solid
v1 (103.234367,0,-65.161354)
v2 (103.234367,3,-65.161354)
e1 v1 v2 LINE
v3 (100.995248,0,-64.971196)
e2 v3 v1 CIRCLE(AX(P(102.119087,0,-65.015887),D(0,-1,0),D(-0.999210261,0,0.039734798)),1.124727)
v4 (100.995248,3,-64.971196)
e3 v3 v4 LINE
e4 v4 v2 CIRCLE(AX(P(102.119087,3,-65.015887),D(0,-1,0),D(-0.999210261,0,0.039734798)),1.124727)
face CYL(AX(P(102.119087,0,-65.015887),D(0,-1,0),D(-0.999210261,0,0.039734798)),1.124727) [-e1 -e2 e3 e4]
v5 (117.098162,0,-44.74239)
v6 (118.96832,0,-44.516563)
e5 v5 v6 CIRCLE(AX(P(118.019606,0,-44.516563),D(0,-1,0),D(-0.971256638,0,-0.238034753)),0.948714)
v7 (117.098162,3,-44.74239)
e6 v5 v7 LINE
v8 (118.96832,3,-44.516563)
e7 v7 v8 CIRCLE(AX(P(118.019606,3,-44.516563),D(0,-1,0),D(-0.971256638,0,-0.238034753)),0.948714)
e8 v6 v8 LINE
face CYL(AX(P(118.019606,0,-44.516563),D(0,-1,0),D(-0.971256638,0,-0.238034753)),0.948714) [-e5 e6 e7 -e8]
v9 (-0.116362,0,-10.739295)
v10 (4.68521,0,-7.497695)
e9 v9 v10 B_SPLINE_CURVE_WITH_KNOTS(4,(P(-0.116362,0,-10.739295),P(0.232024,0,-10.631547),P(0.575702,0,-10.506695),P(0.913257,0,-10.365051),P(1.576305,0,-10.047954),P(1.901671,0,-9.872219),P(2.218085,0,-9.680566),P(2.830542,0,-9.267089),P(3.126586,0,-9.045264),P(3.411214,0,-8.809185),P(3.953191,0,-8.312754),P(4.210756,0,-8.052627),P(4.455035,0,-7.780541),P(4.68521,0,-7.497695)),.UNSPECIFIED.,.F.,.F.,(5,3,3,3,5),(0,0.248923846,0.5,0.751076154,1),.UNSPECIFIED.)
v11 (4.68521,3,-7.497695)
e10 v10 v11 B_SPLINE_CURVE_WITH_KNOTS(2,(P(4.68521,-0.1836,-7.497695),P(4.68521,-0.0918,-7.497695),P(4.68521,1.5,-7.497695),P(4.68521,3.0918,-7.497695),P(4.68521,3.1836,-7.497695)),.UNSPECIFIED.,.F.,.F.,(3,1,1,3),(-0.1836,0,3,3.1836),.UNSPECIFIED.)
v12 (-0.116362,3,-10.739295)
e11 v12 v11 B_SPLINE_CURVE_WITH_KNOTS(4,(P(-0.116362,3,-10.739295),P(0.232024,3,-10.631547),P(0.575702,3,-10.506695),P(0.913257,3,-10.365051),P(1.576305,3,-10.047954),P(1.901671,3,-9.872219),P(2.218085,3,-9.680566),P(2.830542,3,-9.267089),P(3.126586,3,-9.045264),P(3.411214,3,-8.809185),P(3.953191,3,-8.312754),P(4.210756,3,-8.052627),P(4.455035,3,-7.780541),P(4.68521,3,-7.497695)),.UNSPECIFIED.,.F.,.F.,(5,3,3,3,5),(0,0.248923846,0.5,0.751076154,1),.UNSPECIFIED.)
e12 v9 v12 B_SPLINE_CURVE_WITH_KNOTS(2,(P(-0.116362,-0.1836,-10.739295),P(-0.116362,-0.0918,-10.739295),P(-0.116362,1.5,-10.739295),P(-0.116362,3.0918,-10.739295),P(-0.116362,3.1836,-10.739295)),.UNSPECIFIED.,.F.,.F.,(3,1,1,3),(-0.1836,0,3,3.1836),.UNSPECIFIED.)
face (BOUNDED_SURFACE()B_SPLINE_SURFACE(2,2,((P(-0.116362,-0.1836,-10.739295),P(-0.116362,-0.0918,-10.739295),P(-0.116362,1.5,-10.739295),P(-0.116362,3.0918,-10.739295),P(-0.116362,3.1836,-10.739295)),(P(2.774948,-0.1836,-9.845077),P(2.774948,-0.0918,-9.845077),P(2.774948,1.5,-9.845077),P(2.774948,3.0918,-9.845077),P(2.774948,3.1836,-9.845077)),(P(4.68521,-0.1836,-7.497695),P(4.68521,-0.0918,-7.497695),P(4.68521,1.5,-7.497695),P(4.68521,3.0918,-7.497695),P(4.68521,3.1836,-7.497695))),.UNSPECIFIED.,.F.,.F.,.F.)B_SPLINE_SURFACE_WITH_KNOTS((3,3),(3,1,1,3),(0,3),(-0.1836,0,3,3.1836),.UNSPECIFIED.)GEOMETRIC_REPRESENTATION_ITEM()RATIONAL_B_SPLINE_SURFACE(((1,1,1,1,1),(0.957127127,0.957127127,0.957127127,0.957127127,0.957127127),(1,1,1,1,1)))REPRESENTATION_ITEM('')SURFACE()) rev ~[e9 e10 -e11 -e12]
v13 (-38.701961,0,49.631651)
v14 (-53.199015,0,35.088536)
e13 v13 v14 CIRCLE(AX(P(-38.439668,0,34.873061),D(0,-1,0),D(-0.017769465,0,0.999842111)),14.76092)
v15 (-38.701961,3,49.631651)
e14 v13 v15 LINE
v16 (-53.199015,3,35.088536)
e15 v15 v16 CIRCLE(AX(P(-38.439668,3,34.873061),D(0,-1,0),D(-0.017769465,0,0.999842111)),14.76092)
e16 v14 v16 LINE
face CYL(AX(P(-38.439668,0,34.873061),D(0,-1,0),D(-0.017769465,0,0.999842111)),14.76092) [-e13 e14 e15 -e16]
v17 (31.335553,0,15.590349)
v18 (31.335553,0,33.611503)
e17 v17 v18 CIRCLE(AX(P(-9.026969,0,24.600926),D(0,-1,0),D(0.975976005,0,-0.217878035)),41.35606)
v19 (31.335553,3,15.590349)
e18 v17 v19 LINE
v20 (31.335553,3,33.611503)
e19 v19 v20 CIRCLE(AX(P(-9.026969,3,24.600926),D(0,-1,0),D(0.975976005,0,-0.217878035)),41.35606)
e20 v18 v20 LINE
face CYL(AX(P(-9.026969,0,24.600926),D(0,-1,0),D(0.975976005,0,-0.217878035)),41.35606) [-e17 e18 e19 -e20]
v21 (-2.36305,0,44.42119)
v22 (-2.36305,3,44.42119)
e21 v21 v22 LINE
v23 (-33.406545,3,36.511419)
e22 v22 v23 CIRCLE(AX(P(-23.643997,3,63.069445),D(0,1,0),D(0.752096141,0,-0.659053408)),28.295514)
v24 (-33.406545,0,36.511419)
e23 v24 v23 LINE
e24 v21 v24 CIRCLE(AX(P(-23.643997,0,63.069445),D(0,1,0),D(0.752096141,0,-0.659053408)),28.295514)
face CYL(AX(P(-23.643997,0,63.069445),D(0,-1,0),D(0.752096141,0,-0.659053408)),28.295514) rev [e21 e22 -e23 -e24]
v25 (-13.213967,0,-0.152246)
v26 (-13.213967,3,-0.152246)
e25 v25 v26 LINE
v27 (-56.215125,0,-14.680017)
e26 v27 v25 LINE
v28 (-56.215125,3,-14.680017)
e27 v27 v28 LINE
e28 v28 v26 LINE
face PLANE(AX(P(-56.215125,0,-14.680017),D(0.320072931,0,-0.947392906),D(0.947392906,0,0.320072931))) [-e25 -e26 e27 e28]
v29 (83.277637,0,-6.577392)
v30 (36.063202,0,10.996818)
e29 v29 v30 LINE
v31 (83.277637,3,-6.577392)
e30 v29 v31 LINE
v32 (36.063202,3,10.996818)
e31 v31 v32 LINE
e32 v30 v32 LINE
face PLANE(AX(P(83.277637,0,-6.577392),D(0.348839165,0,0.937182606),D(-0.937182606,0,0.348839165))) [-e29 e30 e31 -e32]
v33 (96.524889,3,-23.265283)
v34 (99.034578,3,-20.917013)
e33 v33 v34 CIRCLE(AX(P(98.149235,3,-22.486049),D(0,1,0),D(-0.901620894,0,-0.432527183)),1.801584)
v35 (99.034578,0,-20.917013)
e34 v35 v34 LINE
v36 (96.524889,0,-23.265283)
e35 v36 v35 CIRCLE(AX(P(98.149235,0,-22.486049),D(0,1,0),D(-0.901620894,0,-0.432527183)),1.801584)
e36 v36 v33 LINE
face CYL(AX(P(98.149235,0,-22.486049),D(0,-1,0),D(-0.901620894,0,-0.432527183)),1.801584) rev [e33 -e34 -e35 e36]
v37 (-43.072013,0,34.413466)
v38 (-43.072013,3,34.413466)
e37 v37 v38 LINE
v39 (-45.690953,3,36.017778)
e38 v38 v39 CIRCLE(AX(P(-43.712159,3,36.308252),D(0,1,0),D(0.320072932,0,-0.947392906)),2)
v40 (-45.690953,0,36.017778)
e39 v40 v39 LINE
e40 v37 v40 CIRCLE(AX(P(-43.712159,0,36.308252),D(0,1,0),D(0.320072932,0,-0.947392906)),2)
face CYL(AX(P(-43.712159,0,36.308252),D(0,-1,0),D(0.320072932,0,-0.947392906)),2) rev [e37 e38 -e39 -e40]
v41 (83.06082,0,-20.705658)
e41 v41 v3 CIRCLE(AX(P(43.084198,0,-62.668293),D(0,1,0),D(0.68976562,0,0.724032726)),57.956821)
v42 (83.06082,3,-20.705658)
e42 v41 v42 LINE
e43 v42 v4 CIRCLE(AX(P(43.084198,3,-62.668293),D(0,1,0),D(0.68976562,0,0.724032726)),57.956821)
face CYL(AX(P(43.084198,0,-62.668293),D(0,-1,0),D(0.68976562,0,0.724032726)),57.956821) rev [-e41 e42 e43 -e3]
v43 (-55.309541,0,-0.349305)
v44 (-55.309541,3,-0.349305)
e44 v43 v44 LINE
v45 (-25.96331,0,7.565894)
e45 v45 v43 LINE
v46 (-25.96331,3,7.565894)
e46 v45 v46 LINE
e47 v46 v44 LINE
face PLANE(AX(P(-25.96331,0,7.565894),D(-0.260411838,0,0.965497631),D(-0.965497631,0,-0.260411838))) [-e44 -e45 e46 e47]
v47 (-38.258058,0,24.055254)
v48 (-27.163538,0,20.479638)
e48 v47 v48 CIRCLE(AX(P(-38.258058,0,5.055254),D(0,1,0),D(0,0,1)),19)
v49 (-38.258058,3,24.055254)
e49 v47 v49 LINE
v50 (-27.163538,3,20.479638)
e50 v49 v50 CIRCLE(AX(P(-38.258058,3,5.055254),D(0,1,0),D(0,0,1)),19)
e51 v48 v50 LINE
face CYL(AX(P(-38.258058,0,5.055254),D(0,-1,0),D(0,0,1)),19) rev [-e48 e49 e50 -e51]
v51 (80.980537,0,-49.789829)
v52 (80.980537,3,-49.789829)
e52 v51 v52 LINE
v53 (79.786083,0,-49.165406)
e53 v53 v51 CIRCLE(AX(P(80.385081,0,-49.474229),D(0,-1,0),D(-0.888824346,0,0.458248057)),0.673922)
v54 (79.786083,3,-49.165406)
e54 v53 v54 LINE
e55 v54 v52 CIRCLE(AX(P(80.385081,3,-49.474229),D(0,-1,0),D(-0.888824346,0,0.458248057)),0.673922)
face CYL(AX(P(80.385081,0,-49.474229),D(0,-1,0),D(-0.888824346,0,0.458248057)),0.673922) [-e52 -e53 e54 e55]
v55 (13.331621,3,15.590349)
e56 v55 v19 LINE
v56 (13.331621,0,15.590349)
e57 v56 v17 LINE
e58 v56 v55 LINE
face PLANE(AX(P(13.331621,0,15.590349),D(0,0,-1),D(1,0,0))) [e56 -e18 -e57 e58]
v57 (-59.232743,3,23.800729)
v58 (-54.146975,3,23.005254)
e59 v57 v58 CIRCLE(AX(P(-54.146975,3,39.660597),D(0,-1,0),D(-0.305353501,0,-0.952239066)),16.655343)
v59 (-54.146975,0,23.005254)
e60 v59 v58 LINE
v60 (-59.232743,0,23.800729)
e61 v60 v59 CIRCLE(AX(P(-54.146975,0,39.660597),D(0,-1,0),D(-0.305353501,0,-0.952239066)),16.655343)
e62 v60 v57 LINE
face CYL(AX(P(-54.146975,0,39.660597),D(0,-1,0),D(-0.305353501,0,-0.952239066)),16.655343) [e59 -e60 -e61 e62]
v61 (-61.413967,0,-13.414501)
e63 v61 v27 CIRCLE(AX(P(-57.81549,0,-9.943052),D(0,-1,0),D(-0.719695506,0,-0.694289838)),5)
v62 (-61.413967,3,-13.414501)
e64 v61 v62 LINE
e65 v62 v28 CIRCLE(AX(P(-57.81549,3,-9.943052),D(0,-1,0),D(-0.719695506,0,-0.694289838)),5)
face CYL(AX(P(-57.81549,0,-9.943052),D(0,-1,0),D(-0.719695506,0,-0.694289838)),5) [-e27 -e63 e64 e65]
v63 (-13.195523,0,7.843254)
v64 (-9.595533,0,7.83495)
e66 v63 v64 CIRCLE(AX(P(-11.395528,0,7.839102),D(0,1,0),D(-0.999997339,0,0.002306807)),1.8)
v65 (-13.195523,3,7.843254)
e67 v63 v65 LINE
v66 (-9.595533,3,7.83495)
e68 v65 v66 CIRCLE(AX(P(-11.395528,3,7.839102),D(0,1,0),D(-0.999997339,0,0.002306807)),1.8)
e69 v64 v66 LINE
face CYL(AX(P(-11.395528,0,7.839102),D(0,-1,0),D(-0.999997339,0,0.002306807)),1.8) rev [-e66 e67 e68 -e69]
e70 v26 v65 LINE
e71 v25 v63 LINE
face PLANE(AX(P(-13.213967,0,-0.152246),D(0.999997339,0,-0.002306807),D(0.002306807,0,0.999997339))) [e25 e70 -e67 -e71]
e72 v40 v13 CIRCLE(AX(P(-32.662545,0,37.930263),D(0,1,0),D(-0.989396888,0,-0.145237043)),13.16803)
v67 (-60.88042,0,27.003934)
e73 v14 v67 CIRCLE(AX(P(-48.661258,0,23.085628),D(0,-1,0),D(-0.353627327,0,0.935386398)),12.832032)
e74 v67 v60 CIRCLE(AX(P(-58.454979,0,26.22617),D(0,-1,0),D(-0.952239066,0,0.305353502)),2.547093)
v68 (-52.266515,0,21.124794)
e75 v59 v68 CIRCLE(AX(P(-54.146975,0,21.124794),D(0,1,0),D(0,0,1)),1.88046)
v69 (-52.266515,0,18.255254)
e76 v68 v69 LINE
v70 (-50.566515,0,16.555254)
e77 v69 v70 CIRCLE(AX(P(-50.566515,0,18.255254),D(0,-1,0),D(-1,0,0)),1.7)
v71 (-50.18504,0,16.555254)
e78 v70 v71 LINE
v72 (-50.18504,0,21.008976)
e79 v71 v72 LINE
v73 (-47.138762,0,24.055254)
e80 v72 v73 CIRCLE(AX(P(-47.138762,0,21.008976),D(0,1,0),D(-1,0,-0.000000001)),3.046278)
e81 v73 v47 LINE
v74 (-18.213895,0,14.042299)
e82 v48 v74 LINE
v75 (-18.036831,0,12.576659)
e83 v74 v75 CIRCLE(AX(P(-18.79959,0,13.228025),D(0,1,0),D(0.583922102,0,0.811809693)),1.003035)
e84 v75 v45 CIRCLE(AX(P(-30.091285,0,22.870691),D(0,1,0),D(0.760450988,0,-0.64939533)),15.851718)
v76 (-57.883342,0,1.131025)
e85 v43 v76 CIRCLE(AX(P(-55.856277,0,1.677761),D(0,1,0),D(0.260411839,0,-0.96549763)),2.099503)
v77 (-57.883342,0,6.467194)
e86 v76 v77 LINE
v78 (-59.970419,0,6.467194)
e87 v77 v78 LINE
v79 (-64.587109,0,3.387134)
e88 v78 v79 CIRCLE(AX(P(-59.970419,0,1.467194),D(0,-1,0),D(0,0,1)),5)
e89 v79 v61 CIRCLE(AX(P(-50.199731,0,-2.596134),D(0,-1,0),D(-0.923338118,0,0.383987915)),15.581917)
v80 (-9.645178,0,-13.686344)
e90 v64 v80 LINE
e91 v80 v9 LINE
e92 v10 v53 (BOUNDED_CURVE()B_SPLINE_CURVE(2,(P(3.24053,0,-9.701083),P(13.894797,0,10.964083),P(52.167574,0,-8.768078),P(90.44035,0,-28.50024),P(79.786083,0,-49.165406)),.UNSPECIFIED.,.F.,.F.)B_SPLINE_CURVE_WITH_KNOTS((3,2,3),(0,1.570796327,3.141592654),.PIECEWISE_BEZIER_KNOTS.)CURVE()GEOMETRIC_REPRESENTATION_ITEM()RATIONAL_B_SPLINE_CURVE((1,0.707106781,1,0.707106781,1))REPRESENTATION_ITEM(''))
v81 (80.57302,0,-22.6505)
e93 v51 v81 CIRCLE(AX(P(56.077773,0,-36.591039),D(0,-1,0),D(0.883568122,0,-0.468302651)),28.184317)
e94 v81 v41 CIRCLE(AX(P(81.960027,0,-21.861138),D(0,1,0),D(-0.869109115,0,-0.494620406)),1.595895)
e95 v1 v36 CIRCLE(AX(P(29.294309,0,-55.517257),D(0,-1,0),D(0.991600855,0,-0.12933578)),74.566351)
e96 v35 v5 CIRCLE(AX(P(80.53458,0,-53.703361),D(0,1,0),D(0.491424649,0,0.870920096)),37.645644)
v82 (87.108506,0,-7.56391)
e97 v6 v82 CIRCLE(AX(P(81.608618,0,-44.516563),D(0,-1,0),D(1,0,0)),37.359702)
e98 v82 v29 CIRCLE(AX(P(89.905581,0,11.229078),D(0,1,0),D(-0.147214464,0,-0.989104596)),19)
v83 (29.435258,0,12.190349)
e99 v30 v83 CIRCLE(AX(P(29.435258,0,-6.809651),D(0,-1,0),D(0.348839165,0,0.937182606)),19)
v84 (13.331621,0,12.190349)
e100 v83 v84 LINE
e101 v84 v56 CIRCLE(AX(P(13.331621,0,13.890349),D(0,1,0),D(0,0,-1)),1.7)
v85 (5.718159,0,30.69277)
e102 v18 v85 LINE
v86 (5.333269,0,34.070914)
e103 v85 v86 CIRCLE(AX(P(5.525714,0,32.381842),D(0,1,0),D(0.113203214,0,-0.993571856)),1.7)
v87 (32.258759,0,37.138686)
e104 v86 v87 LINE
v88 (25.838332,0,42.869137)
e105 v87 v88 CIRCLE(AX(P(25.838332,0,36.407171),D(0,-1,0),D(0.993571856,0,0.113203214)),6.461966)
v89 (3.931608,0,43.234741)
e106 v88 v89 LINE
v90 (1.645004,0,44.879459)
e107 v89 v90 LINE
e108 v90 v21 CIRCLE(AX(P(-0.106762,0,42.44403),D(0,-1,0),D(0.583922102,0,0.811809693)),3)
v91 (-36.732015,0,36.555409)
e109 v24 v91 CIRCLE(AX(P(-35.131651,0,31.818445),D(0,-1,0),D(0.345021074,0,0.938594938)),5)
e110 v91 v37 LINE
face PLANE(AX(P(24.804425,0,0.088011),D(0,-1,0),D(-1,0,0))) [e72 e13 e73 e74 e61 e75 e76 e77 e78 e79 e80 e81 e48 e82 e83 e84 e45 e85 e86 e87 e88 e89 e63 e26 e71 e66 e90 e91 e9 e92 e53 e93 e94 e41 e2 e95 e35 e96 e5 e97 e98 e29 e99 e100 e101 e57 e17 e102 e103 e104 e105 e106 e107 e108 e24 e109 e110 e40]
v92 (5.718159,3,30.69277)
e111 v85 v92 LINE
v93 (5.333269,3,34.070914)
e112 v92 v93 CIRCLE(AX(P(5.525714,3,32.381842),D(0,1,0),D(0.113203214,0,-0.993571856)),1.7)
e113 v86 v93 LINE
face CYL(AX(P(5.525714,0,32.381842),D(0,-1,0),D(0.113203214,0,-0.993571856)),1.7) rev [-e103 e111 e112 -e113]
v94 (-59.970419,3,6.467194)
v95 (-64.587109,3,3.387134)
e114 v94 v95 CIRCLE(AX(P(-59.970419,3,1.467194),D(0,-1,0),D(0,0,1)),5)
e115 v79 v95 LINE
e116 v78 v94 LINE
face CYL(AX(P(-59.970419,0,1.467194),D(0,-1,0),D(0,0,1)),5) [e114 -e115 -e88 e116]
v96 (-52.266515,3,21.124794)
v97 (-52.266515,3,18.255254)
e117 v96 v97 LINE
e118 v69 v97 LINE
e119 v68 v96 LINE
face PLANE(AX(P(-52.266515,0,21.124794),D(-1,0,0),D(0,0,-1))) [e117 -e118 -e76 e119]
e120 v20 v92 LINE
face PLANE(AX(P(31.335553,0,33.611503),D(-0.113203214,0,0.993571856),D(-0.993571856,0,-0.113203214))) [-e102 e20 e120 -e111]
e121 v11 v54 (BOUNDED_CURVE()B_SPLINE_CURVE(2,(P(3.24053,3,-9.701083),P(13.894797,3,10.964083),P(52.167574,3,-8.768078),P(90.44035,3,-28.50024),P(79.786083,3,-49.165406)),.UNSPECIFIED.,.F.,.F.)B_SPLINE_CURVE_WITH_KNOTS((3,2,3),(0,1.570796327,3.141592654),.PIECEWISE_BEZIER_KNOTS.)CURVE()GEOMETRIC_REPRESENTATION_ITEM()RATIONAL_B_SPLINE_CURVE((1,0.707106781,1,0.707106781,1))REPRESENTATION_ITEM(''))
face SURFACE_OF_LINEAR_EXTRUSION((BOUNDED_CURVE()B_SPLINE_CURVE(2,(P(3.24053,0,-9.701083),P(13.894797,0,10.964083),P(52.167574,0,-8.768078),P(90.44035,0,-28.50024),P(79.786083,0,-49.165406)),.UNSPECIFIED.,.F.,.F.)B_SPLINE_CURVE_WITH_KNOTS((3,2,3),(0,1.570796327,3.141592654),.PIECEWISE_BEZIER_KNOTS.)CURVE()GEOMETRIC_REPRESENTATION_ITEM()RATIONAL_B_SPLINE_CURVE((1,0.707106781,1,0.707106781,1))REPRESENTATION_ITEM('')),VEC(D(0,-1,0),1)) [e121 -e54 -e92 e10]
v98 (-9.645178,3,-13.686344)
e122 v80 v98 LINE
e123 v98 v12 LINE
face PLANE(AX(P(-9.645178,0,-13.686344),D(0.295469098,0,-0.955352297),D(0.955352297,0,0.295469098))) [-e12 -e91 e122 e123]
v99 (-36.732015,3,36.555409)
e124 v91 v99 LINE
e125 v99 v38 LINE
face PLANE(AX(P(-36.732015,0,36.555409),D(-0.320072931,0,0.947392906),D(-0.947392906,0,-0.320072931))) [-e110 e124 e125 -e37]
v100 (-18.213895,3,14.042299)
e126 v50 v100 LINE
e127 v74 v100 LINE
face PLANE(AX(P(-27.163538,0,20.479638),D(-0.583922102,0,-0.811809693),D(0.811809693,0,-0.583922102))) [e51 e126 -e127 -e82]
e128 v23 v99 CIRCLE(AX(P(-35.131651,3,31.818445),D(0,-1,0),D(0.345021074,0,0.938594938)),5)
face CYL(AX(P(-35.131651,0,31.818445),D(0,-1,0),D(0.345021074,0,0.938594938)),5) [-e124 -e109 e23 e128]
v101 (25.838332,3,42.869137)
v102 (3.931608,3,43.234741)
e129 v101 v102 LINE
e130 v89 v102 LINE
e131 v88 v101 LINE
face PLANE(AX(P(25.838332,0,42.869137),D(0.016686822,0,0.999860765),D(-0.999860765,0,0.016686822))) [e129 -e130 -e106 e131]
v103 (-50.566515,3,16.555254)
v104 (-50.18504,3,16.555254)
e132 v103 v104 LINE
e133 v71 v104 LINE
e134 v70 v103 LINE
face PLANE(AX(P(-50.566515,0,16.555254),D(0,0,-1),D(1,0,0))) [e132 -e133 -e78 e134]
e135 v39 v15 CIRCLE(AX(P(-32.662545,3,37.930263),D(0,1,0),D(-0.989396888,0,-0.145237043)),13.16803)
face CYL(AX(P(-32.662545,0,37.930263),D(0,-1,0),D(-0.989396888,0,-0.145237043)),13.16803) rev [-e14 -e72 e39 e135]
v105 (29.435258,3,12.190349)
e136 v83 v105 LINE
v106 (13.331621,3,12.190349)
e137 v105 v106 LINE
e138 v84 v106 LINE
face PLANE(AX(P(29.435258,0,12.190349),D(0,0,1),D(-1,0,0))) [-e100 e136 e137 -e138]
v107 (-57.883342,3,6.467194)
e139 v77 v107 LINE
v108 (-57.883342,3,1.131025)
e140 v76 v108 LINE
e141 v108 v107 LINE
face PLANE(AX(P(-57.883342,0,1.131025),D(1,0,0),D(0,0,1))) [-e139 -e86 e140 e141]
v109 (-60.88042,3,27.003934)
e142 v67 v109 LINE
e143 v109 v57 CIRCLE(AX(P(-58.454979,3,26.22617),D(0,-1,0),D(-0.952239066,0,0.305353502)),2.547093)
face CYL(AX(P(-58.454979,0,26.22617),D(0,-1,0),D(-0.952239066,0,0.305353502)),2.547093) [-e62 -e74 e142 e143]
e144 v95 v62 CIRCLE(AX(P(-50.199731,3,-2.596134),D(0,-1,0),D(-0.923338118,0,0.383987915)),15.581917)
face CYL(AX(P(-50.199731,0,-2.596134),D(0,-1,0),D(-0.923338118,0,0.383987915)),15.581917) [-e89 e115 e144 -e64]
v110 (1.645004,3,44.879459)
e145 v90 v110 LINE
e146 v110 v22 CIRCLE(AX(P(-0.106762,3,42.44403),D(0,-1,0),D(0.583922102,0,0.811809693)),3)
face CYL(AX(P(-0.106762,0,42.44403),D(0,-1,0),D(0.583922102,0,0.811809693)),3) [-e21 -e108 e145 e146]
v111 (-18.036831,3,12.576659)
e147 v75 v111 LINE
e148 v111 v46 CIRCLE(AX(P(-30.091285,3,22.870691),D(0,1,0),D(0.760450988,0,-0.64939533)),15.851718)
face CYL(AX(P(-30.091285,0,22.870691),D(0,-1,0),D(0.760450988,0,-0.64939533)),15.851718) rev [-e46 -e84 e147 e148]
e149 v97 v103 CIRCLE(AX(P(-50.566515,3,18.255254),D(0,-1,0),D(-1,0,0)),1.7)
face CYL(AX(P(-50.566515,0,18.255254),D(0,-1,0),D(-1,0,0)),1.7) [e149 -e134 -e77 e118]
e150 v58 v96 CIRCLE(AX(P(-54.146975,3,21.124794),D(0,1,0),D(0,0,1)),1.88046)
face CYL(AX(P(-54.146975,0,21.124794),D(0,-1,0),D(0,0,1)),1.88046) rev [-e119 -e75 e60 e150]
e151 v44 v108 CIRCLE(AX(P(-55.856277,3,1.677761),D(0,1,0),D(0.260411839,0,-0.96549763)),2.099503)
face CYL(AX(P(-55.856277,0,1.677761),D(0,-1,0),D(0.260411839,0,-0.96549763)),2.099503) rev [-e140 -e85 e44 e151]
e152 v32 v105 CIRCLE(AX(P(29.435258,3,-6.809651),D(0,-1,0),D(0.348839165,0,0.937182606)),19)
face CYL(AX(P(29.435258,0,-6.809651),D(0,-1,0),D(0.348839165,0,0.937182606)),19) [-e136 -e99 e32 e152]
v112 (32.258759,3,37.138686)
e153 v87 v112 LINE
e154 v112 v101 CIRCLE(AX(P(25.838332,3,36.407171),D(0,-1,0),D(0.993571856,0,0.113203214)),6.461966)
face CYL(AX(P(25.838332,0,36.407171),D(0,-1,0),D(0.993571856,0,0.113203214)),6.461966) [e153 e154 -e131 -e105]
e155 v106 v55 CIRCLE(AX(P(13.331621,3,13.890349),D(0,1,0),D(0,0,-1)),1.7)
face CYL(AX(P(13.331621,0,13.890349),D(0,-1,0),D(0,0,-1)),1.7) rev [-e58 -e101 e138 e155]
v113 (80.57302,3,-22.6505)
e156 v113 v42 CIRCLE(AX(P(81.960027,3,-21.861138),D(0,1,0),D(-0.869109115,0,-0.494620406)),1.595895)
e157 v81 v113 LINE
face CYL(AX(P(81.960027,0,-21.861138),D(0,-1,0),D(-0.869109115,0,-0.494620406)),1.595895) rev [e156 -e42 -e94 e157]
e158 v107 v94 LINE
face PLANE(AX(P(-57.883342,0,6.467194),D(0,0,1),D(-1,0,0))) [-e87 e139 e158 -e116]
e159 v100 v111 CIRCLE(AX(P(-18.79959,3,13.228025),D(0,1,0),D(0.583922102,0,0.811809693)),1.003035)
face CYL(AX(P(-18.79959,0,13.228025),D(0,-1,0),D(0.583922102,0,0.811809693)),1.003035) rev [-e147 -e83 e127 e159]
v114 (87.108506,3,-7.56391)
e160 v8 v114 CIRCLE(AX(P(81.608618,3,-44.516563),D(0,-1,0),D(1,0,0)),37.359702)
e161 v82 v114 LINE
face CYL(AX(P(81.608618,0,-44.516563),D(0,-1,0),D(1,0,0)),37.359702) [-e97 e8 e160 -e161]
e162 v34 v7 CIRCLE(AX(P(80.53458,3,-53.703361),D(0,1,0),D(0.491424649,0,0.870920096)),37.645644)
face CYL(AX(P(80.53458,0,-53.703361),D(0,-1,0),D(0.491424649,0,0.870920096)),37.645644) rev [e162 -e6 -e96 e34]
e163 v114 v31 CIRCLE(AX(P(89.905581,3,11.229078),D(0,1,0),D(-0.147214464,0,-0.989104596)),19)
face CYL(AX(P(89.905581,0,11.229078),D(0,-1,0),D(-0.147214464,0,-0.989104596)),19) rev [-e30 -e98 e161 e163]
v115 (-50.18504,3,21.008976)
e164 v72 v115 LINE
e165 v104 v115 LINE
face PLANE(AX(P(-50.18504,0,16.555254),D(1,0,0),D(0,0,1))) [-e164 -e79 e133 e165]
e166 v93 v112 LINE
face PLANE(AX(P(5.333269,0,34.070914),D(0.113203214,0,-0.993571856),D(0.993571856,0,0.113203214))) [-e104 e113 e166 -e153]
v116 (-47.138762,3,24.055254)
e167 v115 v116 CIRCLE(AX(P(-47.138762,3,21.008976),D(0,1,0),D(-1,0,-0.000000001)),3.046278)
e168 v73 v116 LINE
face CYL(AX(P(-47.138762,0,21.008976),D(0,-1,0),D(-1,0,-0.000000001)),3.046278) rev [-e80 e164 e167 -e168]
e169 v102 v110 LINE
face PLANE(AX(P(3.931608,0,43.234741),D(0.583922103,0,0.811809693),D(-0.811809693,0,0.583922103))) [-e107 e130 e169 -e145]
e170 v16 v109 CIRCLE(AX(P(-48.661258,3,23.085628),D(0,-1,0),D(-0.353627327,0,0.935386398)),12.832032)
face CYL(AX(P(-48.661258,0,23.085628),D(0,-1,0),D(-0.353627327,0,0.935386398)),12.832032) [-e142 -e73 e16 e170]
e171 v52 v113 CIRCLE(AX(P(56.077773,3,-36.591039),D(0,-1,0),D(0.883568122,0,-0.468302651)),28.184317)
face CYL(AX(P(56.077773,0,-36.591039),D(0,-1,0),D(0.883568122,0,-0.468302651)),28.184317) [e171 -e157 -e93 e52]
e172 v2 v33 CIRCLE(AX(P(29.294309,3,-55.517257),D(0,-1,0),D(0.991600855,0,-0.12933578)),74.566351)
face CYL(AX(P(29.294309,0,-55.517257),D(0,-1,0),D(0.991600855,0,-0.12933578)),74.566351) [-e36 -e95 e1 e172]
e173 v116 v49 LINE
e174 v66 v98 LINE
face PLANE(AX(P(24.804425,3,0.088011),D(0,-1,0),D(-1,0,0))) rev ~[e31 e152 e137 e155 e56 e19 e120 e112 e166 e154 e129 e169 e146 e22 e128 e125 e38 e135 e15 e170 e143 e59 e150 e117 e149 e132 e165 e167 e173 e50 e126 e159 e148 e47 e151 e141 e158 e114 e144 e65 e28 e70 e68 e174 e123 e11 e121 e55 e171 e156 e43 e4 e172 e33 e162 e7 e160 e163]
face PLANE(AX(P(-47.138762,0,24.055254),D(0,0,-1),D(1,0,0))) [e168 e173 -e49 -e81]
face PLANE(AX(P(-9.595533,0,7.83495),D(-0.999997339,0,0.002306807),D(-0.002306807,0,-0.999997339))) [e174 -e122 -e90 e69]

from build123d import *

# Parameters (mm, degrees)
BOSS_EXTRUDE2_DEPTH = 3
FILLET1_R           = 10


with BuildPart() as part:
    # Sketch1 → Boss-Extrude2 (new body)
    with BuildSketch(Plane(origin=(0, 0, 0), x_dir=(1, 0, 0), z_dir=(0, 1, 0))):
        with BuildLine():
            Line((83.277636848, 6.577391731), (36.063202158, -10.996818305))
            ThreePointArc((36.063202158, -10.996818305), (32.802532832, -11.889585683), (29.435258028, -12.19034879))
            Line((29.435258028, -12.19034879), (13.331621464, -12.19034879))
            ThreePointArc((13.331621464, -12.19034879), (11.631621464, -13.89034879), (13.331621464, -15.59034879))
            Line((13.331621464, -15.59034879), (31.335553361, -15.59034879))
            ThreePointArc((31.335553361, -15.59034879), (32.329091164, -24.600925987), (31.335553361, -33.611503185))
            Line((31.335553361, -33.611503185), (5.718159441, -30.692769825))
            ThreePointArc((5.718159441, -30.692769825), (3.836641823, -32.189396516), (5.333268515, -34.070914135))
            Line((5.333268515, -34.070914135), (32.258758745, -37.138686243))
            ThreePointArc((32.258758745, -37.138686243), (30.141236011, -41.228168064), (25.83833159, -42.869136571))
            Line((25.83833159, -42.869136571), (3.931607644, -43.234741077))
            Line((3.931607644, -43.234741077), (1.645004408, -44.879459267))
            ThreePointArc((1.645004408, -44.879459267), (-0.44755249, -45.424610965), (-2.363050322, -44.421190413))
            ThreePointArc((-2.363050322, -44.421190413), (-16.657617756, -35.649988568), (-33.406545395, -36.511419261))
            ThreePointArc((-33.406545395, -36.511419261), (-35.065515769, -36.818007167), (-36.732015424, -36.555409102))
            Line((-36.732015424, -36.555409102), (-43.072013441, -34.41346595))
            ThreePointArc((-43.072013441, -34.41346595), (-44.756883472, -34.602804193), (-45.690953078, -36.017777677))
            ThreePointArc((-45.690953078, -36.017777677), (-44.377060251, -43.944176391), (-38.701961301, -49.631650596))
            ThreePointArc((-38.701961301, -49.631650596), (-48.89375638, -45.294039559), (-53.199015105, -35.088535957))
            ThreePointArc((-53.199015105, -35.088535957), (-57.963880411, -31.924307539), (-60.880420097, -27.003933658))
            ThreePointArc((-60.880420097, -27.003933658), (-60.719986784, -25.061085947), (-59.232742508, -23.80072864))
            ThreePointArc((-59.232742508, -23.80072864), (-56.720776297, -23.205324241), (-54.14697512, -23.005253893))
            ThreePointArc((-54.14697512, -23.005253893), (-52.817288904, -22.454479829), (-52.26651484, -21.124793613))
            Line((-52.26651484, -21.124793613), (-52.26651484, -18.255253893))
            ThreePointArc((-52.26651484, -18.255253893), (-51.768596368, -17.053172365), (-50.56651484, -16.555253893))
            Line((-50.56651484, -16.555253893), (-50.18504008, -16.555253893))
            Line((-50.18504008, -16.555253893), (-50.18504008, -21.008976099))
            ThreePointArc((-50.18504008, -21.008976099), (-49.292805972, -23.163019785), (-47.138762286, -24.055253893))
            Line((-47.138762286, -24.055253893), (-38.258057554, -24.055253893))
            ThreePointArc((-38.258057554, -24.055253893), (-32.429820226, -23.139270307), (-27.163537606, -20.479638066))
            Line((-27.163537606, -20.479638066), (-18.213895237, -14.042299326))
            ThreePointArc((-18.213895237, -14.042299326), (-17.803794916, -13.348327859), (-18.036830501, -12.576658832))
            ThreePointArc((-18.036830501, -12.576658832), (-21.621060958, -9.471725354), (-25.963310125, -7.565894288))
            Line((-25.963310125, -7.565894288), (-55.30954126, 0.349304832))
            ThreePointArc((-55.30954126, 0.349304832), (-56.903028243, 0.142191478), (-57.883342437, -1.131025232))
            Line((-57.883342437, -1.131025232), (-57.883342437, -6.467193959))
            Line((-57.883342437, -6.467193959), (-59.970418868, -6.467193959))
            ThreePointArc((-59.970418868, -6.467193959), (-62.745333472, -5.626502668), (-64.58710946, -3.387133535))
            ThreePointArc((-64.58710946, -3.387133535), (-65.510981808, 5.487804074), (-61.413967112, 13.414501258))
            ThreePointArc((-61.413967112, 13.414501258), (-58.998069827, 14.801189981), (-56.215124926, 14.680016601))
            Line((-56.215124926, 14.680016601), (-13.213967112, 0.152246204))
            Line((-13.213967112, 0.152246204), (-13.195522989, -7.843254171))
            ThreePointArc((-13.195522989, -7.843254171), (-11.391375526, -9.63909713), (-9.595532567, -7.834949667))
            Line((-9.595532567, -7.834949667), (-9.645178165, 13.686344484))
            Line((-9.645178165, 13.686344484), (3.240530108, 9.701083124))
            add(Edge.make_bspline(
                [(3.240530108, 9.701083124), (13.894797432, -10.964082924), (52.167573777, 8.768078407), (90.440350123, 28.500239738), (79.7860828, 49.165405786)],
                knots=[0, 0, 0, 1.570796327, 1.570796327, 3.141592654, 3.141592654, 3.141592654], degree=2, weights=[1, 0.707106781, 1, 0.707106781, 1]))
            ThreePointArc((79.7860828, 49.165405786), (80.072864648, 50.071466121), (80.980537261, 49.789828788))
            ThreePointArc((80.980537261, 49.789828788), (84.258913327, 36.167877688), (80.573020022, 22.650500281))
            ThreePointArc((80.573020022, 22.650500281), (80.977131886, 20.603840239), (83.060820169, 20.705658035))
            ThreePointArc((83.060820169, 20.705658035), (96.799731472, 40.905147255), (100.995247842, 64.971195766))
            ThreePointArc((100.995247842, 64.971195766), (102.023911204, 66.136579392), (103.234366802, 65.161354006))
            ThreePointArc((103.234366802, 65.161354006), (102.922479327, 43.72601882), (96.524889391, 23.265282974))
            ThreePointArc((96.524889391, 23.265282974), (96.918331366, 21.170533694), (99.034577715, 20.917013432))
            ThreePointArc((99.034577715, 20.917013432), (110.533106389, 30.95950626), (117.098161764, 44.742389549))
            ThreePointArc((117.098161764, 44.742389549), (118.133339849, 45.458434414), (118.968319872, 44.516562727))
            ThreePointArc((118.968319872, 44.516562727), (109.903683893, 20.121141501), (87.108506166, 7.563909538))
            ThreePointArc((87.108506166, 7.563909538), (85.167327095, 7.170621945), (83.277636848, 6.577391731))
        make_face()
    extrude(amount=BOSS_EXTRUDE2_DEPTH)

    # Fillet1
    fillet1_edges = [part.edges().sort_by_distance(p)[0] for p in [
        (3.240530108, 1.5, -9.701083124),
    ]]
    fillet(fillet1_edges, radius=FILLET1_R)


solid = part.part
